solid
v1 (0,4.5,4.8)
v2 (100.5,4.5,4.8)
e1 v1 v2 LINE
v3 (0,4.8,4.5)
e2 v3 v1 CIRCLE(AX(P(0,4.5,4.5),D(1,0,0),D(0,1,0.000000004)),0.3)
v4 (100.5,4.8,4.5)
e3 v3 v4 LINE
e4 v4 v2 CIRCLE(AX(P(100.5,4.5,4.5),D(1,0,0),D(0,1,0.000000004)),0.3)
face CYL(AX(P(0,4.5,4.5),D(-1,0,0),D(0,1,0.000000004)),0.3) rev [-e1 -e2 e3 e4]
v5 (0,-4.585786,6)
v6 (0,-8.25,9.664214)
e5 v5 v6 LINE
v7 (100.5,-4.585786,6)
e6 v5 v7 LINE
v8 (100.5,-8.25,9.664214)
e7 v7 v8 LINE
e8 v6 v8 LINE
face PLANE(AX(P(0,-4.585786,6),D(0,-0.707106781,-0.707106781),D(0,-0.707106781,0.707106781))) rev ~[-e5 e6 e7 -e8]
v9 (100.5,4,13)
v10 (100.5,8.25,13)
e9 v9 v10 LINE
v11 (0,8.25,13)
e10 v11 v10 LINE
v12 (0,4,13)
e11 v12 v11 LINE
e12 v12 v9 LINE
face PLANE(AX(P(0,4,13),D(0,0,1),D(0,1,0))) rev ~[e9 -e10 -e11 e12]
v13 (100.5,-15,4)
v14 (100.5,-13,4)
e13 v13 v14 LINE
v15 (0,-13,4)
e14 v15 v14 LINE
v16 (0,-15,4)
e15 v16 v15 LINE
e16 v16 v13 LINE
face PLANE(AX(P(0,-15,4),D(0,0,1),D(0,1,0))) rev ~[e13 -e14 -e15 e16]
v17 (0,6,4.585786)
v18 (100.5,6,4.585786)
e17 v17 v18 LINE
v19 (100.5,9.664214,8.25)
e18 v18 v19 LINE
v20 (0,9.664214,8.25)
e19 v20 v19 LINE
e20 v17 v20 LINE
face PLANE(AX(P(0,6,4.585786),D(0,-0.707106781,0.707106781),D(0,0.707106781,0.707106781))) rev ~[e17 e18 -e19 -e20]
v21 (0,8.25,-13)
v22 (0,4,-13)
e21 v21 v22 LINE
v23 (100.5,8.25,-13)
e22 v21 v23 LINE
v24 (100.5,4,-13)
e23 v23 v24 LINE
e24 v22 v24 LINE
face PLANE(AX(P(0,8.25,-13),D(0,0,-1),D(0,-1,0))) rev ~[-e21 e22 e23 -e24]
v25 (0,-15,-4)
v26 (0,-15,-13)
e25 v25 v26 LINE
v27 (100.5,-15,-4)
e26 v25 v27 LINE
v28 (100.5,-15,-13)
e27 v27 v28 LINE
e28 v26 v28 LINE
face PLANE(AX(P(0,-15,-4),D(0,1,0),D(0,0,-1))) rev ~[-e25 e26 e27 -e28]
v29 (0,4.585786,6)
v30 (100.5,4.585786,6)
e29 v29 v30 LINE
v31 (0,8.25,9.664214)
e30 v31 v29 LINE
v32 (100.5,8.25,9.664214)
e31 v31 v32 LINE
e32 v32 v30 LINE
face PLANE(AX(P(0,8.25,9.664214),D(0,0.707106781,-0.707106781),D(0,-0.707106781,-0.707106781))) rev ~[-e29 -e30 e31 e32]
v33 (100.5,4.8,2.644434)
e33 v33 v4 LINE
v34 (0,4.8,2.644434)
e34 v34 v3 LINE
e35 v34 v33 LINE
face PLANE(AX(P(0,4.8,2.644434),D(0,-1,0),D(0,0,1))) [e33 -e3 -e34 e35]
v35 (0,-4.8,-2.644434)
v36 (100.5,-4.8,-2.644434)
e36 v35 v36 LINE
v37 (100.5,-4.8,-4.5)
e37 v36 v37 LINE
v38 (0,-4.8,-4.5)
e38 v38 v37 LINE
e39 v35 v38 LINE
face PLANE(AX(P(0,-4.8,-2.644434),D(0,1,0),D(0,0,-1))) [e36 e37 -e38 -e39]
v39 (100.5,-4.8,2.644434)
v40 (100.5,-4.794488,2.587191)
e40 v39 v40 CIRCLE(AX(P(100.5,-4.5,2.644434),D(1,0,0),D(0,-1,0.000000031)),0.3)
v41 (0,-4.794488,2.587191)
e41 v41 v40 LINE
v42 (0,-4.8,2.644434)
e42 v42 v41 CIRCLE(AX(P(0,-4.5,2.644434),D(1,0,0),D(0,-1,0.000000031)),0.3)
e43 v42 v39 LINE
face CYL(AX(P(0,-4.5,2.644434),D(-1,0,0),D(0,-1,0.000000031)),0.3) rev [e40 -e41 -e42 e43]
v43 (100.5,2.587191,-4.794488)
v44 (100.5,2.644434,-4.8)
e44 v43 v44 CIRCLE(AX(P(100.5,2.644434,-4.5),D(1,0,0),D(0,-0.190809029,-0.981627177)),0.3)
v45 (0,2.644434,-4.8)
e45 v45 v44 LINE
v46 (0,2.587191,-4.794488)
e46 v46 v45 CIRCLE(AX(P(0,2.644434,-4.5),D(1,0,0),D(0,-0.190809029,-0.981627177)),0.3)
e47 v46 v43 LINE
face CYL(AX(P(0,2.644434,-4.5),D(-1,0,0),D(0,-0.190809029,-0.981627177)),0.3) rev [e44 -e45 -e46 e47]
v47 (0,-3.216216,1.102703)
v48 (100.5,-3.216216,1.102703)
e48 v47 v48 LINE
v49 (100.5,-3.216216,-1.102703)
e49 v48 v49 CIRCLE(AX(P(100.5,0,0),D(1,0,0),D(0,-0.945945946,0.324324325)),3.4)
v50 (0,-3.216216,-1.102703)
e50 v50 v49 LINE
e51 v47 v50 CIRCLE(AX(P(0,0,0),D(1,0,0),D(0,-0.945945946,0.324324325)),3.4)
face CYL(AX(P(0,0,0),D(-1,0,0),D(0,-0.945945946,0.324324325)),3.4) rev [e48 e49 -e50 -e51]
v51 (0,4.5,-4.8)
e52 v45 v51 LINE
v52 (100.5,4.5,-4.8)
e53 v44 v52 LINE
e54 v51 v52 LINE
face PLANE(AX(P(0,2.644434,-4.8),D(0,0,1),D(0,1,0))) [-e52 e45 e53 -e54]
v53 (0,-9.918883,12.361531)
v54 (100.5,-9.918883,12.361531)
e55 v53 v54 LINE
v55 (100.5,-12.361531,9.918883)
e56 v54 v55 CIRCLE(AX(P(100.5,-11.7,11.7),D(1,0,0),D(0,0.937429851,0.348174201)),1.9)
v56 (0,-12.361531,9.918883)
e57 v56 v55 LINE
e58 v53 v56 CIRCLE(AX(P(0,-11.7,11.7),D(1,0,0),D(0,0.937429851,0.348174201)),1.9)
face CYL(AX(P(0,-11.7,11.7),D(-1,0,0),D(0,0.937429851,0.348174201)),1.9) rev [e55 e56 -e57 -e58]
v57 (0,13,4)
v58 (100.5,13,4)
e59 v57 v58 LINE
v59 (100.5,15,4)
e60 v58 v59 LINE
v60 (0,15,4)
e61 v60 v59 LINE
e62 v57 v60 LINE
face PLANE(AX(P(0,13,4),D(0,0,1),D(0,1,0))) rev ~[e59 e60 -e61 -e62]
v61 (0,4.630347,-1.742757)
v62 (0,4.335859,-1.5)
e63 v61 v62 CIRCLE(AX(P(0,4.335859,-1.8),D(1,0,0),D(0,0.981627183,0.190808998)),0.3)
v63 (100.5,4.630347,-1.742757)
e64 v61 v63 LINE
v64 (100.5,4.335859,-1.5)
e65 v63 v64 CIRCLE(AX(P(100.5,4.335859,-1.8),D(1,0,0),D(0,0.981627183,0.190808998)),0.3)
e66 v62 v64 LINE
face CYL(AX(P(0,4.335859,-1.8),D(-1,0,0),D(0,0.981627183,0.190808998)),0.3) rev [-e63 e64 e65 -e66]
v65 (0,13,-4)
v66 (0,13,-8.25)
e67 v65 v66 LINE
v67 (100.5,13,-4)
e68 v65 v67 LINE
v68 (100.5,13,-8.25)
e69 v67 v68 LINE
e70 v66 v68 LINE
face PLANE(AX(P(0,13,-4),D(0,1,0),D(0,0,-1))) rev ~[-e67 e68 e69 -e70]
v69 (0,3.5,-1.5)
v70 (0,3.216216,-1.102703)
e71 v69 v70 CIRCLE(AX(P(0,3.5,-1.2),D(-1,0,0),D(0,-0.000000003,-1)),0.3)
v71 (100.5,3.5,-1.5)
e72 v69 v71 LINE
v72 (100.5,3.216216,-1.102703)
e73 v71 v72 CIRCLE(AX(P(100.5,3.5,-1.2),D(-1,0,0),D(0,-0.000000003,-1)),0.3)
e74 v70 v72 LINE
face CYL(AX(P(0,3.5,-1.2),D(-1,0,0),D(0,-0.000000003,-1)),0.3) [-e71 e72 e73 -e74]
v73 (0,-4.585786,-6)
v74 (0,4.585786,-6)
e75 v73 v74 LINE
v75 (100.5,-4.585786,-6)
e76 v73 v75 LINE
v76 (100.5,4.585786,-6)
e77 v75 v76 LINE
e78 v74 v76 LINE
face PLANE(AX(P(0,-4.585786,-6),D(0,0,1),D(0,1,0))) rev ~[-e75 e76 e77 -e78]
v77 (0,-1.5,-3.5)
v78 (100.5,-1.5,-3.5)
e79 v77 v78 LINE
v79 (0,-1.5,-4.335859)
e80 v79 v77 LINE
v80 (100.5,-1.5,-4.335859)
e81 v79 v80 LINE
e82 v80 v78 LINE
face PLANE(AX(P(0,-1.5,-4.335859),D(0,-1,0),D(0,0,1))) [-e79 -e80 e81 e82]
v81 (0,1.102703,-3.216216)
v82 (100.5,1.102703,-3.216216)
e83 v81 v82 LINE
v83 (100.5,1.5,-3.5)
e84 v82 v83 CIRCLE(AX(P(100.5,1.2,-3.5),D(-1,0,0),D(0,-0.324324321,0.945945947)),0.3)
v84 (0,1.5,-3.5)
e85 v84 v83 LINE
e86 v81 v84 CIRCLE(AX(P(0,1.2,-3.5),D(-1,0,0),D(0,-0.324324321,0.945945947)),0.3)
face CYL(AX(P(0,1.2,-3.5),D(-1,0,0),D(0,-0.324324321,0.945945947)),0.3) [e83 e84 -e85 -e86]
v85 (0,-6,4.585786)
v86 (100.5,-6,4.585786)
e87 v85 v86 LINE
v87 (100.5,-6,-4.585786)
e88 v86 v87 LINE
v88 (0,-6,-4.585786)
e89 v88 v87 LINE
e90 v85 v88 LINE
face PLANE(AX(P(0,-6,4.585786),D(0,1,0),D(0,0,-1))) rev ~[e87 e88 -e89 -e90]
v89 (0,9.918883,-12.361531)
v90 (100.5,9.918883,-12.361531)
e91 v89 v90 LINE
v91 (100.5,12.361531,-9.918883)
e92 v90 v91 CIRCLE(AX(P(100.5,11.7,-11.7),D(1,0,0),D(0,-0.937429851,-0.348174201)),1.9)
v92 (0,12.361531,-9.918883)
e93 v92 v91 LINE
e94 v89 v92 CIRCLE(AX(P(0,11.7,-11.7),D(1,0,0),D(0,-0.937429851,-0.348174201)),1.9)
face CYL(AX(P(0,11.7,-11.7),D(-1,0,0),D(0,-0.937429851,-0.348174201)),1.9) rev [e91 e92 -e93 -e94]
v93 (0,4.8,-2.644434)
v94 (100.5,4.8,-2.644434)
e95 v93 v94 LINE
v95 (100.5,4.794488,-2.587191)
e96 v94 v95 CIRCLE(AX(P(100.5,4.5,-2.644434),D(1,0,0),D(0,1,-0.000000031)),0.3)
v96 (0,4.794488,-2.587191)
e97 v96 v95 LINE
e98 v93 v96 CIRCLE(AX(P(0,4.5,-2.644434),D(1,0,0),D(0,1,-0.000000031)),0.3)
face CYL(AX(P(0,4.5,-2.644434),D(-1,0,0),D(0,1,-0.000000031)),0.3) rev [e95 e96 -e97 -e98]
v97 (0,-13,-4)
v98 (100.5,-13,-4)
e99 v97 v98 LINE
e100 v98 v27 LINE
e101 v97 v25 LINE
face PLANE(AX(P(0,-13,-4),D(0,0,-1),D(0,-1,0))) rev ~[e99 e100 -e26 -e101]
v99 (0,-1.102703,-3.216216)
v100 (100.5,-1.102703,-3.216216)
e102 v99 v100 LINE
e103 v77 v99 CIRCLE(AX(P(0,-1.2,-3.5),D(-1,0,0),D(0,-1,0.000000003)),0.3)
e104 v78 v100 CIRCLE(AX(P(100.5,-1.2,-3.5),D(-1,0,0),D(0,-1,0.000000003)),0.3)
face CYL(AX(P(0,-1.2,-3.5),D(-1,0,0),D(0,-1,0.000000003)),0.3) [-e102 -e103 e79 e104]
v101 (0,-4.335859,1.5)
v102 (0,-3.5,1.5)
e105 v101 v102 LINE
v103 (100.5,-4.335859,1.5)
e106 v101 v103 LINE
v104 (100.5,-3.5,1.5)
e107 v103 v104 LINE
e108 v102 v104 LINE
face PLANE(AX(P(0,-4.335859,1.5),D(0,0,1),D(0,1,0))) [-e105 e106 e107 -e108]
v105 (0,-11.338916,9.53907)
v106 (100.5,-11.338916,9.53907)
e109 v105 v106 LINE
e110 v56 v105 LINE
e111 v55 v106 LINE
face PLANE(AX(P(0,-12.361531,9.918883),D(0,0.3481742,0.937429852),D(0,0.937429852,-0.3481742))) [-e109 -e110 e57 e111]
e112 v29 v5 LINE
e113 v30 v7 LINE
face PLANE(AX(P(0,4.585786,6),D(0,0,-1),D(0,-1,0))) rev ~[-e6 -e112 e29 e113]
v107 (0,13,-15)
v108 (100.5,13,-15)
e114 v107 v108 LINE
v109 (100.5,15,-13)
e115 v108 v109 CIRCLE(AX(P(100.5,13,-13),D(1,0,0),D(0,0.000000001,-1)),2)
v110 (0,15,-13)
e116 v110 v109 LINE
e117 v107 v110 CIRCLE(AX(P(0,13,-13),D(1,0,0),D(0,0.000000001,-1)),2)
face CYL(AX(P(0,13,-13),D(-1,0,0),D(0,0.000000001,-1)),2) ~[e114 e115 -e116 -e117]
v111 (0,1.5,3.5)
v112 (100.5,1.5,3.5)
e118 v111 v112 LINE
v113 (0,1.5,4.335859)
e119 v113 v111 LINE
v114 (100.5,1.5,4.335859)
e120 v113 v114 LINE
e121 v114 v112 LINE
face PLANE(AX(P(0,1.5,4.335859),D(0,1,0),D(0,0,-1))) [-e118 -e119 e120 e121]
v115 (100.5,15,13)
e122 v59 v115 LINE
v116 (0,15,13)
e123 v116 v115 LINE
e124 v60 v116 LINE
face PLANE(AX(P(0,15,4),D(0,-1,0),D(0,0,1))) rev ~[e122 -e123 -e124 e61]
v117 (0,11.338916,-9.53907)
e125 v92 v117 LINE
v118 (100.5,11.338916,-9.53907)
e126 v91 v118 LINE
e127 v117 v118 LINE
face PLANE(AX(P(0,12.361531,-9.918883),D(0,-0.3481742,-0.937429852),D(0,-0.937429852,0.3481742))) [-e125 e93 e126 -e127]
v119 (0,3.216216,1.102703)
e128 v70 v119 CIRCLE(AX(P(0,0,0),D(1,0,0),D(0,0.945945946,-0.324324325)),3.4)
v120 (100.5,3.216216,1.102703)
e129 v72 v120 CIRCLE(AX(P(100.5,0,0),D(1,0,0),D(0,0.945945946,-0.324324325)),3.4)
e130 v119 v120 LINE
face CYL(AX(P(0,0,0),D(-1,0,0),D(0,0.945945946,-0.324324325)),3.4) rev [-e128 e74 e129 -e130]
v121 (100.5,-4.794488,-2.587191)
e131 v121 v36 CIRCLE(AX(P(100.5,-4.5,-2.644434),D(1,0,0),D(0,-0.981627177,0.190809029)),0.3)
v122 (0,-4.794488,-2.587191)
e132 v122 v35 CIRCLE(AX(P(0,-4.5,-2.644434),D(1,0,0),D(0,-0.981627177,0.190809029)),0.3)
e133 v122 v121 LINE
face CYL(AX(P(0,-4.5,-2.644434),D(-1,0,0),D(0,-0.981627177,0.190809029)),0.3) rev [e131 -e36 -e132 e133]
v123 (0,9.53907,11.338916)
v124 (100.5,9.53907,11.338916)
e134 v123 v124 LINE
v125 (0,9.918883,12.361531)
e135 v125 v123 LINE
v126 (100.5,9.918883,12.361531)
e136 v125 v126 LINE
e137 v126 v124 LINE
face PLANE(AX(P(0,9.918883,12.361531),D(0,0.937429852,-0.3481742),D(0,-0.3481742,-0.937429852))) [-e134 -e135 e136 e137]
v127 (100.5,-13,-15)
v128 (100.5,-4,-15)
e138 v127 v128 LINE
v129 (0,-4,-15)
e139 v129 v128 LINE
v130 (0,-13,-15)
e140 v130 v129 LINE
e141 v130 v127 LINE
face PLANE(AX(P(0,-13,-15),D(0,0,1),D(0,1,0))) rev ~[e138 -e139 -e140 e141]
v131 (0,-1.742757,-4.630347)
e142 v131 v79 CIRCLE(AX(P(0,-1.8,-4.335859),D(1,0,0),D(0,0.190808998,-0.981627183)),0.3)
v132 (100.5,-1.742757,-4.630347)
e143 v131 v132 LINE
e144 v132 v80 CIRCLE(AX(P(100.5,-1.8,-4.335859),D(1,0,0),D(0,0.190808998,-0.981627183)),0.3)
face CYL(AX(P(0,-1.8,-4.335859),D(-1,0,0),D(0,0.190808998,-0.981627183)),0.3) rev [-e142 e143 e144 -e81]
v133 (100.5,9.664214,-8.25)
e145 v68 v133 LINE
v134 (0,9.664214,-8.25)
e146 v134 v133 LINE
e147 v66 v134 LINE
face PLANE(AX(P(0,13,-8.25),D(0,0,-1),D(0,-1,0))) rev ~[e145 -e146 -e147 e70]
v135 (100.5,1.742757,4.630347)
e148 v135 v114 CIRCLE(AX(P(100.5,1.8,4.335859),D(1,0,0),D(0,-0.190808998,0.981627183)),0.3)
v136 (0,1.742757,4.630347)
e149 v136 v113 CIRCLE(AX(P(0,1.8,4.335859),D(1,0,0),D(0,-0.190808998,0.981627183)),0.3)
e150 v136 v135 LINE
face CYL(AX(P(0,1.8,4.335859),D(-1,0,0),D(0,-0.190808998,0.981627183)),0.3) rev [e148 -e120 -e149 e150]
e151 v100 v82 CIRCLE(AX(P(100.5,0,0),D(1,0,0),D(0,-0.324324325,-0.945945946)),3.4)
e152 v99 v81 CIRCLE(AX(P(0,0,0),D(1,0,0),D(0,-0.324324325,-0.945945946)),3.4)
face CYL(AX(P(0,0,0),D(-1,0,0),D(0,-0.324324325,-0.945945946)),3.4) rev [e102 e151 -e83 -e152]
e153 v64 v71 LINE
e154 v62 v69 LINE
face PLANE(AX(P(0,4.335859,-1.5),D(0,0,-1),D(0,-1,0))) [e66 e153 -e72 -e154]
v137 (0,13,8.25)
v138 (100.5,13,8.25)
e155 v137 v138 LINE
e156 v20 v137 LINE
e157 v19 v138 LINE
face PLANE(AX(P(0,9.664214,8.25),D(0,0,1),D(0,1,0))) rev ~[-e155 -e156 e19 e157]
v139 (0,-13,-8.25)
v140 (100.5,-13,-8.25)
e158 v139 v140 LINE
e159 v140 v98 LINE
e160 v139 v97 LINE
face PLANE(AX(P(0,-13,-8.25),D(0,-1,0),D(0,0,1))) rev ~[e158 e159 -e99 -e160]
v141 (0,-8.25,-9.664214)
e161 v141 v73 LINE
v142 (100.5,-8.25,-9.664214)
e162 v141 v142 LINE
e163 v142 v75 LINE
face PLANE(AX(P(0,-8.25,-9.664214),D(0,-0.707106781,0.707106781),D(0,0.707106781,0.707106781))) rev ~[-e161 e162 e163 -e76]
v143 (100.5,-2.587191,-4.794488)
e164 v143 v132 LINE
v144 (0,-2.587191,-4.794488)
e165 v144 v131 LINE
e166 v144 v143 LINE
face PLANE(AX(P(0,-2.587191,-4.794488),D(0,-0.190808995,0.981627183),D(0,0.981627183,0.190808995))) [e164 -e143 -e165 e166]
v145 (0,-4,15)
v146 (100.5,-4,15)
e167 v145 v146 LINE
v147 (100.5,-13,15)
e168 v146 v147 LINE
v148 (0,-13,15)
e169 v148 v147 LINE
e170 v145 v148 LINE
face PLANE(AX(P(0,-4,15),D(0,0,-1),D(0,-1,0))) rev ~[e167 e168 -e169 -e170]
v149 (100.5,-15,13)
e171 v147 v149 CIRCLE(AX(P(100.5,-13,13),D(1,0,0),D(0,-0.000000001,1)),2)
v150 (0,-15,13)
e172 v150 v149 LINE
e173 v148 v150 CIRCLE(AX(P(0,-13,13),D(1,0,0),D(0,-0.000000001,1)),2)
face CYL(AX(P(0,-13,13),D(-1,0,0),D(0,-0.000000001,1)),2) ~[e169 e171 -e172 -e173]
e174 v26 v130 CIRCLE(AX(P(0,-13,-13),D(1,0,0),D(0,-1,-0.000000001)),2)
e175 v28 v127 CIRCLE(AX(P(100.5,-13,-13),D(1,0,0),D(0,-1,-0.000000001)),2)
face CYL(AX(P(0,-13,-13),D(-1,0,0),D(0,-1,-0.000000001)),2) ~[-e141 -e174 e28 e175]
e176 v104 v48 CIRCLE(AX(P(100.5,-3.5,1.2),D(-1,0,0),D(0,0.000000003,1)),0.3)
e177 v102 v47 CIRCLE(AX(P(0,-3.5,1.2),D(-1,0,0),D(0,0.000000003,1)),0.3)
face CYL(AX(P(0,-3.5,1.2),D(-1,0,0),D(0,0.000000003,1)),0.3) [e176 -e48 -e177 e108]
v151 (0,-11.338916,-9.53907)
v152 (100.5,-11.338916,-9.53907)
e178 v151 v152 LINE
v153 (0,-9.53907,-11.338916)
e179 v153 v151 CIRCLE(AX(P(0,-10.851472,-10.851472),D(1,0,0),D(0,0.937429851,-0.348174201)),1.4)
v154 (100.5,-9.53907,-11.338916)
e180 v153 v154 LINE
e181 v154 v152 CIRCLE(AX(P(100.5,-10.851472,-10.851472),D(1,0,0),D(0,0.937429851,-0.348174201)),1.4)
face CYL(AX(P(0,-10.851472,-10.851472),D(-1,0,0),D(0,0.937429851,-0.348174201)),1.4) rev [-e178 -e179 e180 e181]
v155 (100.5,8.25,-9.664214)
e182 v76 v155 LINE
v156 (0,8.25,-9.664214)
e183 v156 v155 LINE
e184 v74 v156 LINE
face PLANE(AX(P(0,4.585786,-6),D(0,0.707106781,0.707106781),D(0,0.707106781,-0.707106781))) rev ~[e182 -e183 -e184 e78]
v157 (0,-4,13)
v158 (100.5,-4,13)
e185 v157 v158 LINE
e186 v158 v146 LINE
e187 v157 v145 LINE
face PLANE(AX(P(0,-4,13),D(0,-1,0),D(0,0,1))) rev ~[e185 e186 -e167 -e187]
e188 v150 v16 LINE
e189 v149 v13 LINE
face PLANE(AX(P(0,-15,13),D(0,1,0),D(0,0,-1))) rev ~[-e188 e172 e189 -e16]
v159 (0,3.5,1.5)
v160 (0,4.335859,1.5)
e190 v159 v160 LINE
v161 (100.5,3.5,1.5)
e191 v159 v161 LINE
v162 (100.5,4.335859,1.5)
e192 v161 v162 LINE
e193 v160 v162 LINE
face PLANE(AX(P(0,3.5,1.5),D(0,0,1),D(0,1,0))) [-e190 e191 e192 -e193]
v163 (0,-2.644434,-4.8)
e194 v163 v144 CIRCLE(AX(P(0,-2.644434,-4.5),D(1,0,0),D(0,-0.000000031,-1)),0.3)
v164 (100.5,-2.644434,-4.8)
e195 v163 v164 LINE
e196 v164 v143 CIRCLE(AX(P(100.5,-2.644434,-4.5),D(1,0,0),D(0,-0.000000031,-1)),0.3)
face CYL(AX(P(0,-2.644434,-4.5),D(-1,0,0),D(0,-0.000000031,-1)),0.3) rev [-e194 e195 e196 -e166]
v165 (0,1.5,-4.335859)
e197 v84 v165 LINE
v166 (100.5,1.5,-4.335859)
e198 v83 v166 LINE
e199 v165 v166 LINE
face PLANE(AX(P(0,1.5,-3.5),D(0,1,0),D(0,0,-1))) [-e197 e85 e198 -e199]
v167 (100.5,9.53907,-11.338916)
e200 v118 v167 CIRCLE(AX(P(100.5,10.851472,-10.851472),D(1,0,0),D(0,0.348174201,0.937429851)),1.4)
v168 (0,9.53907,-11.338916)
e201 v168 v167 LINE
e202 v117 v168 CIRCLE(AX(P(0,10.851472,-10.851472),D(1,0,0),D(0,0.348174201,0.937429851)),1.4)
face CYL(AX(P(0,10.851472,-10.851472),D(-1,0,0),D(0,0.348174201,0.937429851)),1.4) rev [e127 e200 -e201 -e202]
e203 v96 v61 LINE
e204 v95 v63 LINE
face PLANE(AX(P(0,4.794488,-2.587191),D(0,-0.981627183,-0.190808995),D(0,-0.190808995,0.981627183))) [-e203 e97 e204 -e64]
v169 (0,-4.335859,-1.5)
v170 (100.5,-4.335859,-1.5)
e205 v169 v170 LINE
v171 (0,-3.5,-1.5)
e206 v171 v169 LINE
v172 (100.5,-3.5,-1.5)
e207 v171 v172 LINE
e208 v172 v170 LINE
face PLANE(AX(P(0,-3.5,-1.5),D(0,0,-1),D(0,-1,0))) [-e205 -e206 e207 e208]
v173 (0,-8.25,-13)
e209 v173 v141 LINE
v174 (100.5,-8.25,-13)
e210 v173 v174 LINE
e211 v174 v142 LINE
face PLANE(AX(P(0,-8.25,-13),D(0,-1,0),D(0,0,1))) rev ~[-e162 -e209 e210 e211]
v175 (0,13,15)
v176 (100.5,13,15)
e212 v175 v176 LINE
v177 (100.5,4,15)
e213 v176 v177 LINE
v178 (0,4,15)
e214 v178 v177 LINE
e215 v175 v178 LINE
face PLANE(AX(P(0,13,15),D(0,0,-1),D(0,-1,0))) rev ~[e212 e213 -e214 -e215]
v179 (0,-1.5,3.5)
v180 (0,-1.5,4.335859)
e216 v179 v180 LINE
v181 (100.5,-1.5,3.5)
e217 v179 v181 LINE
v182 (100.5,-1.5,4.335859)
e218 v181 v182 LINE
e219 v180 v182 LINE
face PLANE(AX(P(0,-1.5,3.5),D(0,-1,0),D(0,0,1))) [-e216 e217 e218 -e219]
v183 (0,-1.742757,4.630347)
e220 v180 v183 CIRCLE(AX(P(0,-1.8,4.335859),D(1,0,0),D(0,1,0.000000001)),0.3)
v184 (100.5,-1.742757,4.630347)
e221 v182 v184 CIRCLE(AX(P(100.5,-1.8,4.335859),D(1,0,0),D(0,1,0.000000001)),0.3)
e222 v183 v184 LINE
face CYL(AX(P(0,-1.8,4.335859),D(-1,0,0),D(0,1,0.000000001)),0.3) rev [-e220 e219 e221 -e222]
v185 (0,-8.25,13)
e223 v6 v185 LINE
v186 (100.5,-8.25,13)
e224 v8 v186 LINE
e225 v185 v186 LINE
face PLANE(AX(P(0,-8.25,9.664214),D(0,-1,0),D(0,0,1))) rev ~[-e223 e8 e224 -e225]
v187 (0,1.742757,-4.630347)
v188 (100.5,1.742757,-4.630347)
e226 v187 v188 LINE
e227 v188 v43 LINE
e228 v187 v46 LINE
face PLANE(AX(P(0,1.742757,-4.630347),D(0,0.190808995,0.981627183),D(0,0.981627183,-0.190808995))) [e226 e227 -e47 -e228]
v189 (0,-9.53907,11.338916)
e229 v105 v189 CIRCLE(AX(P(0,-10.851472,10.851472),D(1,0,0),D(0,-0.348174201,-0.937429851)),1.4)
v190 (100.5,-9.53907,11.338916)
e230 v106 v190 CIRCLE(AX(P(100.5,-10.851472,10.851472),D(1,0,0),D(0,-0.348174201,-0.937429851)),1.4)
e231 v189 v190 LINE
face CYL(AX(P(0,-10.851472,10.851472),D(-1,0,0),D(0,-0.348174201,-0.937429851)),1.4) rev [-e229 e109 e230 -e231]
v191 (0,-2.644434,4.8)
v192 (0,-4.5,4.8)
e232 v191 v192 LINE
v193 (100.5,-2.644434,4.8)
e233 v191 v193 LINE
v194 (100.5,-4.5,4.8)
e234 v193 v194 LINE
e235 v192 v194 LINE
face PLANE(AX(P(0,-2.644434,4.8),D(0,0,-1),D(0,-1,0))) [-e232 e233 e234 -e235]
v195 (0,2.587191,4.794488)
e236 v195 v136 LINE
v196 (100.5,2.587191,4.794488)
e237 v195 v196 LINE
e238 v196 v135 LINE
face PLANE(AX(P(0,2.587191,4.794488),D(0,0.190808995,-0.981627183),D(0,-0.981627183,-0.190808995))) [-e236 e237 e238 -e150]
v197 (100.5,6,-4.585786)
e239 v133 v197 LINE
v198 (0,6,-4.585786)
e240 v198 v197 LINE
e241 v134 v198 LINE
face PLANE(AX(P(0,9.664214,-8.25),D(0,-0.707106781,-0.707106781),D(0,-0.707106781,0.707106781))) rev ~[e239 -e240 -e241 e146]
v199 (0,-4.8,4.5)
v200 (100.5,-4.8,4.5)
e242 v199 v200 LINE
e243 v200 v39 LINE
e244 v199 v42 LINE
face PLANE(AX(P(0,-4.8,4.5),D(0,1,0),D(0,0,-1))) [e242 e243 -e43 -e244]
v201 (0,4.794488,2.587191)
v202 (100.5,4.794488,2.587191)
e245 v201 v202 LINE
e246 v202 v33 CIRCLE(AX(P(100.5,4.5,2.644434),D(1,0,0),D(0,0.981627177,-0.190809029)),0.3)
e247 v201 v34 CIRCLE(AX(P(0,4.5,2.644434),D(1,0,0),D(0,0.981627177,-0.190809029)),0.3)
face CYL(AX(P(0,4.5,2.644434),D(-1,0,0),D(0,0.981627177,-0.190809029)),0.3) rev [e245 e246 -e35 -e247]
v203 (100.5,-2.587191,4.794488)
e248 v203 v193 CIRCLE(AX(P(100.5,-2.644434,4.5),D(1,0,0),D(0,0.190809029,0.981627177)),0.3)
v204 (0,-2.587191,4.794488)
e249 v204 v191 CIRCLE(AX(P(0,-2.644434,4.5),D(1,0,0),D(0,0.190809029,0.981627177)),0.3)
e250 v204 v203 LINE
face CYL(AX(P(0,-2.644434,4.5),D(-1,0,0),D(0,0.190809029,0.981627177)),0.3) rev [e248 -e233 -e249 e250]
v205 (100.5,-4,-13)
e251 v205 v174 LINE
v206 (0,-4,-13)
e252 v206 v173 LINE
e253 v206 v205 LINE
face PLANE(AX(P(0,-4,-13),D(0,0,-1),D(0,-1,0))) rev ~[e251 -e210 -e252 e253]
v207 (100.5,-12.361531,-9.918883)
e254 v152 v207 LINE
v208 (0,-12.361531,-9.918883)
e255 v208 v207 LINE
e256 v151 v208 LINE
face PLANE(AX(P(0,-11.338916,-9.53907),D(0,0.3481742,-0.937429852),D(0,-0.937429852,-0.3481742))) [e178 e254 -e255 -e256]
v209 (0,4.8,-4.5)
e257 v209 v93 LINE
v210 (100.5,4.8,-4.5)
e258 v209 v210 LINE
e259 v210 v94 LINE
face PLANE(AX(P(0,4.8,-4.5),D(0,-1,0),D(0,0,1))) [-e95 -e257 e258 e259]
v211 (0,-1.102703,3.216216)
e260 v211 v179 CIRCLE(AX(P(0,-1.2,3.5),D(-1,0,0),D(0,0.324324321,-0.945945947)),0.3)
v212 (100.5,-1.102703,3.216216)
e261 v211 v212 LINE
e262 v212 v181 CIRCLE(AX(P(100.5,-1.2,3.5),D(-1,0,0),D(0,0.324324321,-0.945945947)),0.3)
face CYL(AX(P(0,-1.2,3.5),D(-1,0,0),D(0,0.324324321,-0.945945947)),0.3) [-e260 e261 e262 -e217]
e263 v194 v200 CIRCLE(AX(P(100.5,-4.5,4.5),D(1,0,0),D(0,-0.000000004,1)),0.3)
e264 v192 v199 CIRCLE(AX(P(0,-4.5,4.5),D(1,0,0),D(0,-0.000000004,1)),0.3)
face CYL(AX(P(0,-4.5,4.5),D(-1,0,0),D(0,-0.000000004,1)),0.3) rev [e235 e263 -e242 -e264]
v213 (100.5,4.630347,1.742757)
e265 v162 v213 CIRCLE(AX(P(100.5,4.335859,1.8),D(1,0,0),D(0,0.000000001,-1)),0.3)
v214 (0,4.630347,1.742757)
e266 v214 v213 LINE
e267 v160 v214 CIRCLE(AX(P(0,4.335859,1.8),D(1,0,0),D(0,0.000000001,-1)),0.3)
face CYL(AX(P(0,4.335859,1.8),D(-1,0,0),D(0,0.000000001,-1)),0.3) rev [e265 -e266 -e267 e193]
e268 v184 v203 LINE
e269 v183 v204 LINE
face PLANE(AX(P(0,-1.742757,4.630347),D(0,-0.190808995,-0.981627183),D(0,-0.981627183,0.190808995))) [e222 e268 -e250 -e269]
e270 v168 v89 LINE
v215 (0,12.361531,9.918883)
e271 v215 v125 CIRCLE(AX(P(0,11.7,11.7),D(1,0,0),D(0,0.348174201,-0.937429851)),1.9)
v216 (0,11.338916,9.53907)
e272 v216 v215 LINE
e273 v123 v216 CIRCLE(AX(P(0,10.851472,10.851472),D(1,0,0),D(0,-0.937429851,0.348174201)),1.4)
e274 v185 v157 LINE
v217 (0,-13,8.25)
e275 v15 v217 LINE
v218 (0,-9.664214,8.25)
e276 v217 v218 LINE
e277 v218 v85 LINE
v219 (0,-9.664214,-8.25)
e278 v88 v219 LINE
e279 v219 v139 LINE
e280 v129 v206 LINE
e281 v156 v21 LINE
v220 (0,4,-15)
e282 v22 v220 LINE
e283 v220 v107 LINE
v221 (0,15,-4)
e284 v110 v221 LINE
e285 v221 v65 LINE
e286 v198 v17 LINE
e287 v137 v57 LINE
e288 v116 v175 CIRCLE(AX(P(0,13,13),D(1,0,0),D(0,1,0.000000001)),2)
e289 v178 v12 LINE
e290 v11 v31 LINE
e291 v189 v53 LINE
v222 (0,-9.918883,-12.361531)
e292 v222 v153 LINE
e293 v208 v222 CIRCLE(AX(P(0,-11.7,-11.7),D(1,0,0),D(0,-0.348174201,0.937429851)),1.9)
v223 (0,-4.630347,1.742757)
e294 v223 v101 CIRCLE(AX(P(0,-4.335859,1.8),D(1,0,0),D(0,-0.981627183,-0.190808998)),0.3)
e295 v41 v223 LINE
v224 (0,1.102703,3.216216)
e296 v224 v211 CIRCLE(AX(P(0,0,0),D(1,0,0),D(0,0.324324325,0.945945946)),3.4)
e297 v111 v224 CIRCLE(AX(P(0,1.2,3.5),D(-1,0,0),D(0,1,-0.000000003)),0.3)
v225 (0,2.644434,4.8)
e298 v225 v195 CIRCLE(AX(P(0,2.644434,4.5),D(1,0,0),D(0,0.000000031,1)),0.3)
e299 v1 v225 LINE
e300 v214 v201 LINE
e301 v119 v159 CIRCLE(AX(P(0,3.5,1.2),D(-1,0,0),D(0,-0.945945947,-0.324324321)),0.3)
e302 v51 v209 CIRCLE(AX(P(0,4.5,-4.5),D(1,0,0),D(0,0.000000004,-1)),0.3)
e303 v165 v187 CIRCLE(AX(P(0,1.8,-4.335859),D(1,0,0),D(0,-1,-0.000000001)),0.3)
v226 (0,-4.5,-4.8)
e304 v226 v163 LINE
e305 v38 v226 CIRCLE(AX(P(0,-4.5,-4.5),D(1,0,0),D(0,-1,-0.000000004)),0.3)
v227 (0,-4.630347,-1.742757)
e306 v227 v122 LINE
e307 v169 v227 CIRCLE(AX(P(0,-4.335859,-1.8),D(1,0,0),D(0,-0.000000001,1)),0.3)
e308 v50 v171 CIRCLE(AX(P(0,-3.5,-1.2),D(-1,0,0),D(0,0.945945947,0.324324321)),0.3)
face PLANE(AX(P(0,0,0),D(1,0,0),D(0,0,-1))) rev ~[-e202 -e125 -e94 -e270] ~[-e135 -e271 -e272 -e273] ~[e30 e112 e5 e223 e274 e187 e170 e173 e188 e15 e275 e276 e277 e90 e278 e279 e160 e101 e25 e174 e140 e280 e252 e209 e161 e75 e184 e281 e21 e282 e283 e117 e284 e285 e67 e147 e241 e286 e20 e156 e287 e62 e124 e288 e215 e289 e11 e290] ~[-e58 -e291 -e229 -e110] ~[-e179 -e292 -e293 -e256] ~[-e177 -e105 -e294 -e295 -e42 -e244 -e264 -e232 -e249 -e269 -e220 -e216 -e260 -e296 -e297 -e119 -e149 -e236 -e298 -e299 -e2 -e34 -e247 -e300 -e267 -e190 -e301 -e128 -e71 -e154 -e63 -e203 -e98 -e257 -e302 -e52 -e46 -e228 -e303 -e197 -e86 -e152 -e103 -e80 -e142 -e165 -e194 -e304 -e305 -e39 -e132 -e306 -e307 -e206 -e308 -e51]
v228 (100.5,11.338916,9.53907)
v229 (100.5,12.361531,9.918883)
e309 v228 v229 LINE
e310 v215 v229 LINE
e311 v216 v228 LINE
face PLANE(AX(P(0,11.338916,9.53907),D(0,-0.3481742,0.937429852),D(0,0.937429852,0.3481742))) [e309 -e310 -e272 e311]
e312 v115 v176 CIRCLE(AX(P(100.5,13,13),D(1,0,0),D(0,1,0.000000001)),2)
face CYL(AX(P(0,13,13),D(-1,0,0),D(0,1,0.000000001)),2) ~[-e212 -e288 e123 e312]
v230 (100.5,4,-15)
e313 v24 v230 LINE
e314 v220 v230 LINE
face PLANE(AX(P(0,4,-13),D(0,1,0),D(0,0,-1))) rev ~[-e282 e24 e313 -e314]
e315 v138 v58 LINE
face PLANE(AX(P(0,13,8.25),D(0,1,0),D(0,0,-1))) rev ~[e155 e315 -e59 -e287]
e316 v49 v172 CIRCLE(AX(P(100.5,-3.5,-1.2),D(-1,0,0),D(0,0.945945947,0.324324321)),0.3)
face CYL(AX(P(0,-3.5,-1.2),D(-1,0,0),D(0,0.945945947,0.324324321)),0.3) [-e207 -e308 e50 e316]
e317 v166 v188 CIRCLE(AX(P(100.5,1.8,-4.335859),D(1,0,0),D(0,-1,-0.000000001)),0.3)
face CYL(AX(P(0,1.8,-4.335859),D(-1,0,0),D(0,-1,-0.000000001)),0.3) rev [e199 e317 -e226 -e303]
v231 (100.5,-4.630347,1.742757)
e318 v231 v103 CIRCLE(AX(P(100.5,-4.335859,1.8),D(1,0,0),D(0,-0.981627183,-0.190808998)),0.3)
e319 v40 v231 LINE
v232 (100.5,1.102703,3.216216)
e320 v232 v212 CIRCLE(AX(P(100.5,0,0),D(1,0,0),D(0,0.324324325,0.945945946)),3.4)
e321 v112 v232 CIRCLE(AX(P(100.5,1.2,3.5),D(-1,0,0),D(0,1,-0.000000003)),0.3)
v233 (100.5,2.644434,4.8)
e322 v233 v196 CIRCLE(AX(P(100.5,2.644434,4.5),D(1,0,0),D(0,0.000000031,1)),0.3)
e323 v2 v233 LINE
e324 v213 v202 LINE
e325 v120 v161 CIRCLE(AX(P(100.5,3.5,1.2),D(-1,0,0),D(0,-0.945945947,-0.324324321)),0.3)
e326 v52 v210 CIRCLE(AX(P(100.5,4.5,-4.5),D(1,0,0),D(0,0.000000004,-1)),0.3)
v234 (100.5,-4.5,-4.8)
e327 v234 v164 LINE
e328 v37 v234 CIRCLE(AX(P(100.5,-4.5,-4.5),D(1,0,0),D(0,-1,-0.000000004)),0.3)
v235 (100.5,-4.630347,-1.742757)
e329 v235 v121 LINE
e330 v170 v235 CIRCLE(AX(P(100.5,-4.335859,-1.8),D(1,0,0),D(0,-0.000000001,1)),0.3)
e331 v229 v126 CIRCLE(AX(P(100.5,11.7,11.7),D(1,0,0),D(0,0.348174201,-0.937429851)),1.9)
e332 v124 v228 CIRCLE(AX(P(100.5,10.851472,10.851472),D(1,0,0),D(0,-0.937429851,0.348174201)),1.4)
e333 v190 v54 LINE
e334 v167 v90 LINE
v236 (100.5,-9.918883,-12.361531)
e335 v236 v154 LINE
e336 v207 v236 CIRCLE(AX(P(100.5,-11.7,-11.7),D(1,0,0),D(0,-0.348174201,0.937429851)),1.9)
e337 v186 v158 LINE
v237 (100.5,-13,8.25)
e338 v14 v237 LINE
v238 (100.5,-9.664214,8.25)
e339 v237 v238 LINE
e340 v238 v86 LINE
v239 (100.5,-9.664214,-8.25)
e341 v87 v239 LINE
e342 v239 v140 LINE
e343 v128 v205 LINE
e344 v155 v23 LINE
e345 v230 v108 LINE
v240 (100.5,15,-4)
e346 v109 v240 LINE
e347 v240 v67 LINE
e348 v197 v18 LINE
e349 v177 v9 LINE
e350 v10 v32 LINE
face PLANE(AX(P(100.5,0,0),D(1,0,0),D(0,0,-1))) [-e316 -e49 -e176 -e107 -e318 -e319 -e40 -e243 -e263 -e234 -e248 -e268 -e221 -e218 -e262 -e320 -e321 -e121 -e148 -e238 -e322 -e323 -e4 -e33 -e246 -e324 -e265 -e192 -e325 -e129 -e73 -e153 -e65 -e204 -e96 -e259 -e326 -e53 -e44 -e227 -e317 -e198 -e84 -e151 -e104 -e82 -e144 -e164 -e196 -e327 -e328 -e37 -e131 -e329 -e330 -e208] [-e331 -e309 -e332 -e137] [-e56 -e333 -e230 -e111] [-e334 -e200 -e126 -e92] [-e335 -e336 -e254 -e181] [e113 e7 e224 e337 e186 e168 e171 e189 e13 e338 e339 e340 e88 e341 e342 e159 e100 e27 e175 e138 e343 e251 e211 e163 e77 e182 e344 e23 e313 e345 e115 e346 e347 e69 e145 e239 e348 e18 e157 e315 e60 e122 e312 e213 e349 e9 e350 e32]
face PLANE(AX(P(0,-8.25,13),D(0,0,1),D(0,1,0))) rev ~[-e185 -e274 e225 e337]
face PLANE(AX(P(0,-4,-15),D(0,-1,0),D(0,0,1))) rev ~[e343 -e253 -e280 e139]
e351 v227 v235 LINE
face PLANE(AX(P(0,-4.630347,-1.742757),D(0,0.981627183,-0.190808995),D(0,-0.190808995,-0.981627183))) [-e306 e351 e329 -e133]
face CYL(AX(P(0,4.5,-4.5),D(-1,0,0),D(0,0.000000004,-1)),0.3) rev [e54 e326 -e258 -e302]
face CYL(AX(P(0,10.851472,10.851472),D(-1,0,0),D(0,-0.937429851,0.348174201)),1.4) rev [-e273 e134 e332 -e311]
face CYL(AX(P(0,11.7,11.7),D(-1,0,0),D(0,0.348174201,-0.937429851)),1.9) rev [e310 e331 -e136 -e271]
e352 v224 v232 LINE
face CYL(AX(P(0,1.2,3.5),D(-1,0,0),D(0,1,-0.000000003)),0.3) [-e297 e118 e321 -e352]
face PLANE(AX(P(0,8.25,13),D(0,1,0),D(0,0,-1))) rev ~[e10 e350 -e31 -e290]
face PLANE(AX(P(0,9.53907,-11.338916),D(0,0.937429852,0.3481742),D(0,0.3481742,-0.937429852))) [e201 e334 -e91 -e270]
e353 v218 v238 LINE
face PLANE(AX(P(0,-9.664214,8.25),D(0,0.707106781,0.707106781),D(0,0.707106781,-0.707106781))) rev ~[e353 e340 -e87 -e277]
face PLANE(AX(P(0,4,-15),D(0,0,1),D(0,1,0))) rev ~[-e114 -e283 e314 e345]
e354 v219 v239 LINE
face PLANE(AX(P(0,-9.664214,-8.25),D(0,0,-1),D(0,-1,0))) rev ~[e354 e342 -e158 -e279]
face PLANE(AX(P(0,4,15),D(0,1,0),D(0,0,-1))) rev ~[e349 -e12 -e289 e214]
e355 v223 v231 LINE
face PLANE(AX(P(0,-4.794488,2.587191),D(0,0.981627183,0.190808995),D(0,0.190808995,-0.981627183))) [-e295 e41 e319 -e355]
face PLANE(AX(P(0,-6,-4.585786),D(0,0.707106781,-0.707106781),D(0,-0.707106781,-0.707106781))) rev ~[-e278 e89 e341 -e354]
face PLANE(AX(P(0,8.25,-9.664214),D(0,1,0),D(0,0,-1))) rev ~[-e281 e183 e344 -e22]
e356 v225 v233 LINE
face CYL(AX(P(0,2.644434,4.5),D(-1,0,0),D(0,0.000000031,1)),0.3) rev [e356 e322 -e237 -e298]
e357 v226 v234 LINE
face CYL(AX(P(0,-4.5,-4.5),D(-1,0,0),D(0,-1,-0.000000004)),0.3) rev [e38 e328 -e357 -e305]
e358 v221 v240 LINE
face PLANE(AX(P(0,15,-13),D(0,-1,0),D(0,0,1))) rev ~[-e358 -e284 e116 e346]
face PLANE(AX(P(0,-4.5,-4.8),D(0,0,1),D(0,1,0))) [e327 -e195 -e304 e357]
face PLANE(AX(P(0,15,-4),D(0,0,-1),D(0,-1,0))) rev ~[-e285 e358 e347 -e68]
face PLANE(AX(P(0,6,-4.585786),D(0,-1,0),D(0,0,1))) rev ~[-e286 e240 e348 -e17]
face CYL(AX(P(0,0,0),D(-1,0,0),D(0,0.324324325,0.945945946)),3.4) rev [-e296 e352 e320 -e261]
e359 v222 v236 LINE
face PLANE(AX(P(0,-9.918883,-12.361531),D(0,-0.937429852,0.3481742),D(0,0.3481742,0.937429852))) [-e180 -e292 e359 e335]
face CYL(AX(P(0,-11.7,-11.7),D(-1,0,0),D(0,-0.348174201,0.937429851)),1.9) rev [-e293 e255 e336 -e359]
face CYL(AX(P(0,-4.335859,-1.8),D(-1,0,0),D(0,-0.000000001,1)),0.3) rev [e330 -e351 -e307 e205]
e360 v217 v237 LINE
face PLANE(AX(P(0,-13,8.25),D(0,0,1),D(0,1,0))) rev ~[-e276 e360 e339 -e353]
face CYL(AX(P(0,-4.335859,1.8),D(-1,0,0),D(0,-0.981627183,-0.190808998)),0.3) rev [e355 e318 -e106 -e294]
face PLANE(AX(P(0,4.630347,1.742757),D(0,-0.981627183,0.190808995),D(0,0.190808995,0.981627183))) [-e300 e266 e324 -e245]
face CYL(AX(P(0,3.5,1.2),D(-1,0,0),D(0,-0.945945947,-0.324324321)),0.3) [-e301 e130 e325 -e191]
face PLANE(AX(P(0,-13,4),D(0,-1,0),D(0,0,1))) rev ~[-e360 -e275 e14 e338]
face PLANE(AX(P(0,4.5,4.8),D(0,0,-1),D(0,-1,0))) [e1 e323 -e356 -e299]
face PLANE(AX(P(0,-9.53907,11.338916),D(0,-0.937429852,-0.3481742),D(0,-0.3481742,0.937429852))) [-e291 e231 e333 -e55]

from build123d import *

# Parameters (mm, degrees)
BOSS_EXTRUDE1_DEPTH = 100.5


with BuildPart() as part:
    # Sketch1 → Boss-Extrude1 (new body)
    with BuildSketch(Plane(origin=(0, 0, 0), x_dir=(0, 0, -1), z_dir=(1, 0, 0))):
        with BuildLine():
            Line((-15, 13), (-15, 4))
            Line((-15, 4), (-13, 4))
            Line((-13, 4), (-13, 8.25))
            Line((-13, 8.25), (-9.664213562, 8.25))
            Line((-9.664213562, 8.25), (-6, 4.585786438))
            Line((-6, 4.585786438), (-6, -4.585786438))
            Line((-6, -4.585786438), (-9.664213562, -8.25))
            Line((-9.664213562, -8.25), (-13, -8.25))
            Line((-13, -8.25), (-13, -4))
            Line((-13, -4), (-15, -4))
            Line((-15, -4), (-15, -13))
            ThreePointArc((-15, -13), (-14.414213562, -14.414213562), (-13, -15))
            Line((-13, -15), (-4, -15))
            Line((-4, -15), (-4, -13))
            Line((-4, -13), (-8.25, -13))
            Line((-8.25, -13), (-8.25, -9.664213562))
            Line((-8.25, -9.664213562), (-4.585786438, -6))
            Line((-4.585786438, -6), (4.585786438, -6))
            Line((4.585786438, -6), (8.25, -9.664213562))
            Line((8.25, -9.664213562), (8.25, -13))
            Line((8.25, -13), (4, -13))
            Line((4, -13), (4, -15))
            Line((4, -15), (13, -15))
            ThreePointArc((13, -15), (14.414213562, -14.414213562), (15, -13))
            Line((15, -13), (15, -4))
            Line((15, -4), (13, -4))
            Line((13, -4), (13, -8.25))
            Line((13, -8.25), (9.664213562, -8.25))
            Line((9.664213562, -8.25), (6, -4.585786438))
            Line((6, -4.585786438), (6, 4.585786438))
            Line((6, 4.585786438), (9.664213562, 8.25))
            Line((9.664213562, 8.25), (13, 8.25))
            Line((13, 8.25), (13, 4))
            Line((13, 4), (15, 4))
            Line((15, 4), (15, 13))
            ThreePointArc((15, 13), (14.414213562, 14.414213562), (13, 15))
            Line((13, 15), (4, 15))
            Line((4, 15), (4, 13))
            Line((4, 13), (8.25, 13))
            Line((8.25, 13), (8.25, 9.664213562))
            Line((8.25, 9.664213562), (4.585786438, 6))
            Line((4.585786438, 6), (-4.585786438, 6))
            Line((-4.585786438, 6), (-8.25, 9.664213562))
            Line((-8.25, 9.664213562), (-8.25, 13))
            Line((-8.25, 13), (-4, 13))
            Line((-4, 13), (-4, 15))
            Line((-4, 15), (-13, 15))
            ThreePointArc((-13, 15), (-14.414213562, 14.414213562), (-15, 13))
        make_face()
        with BuildLine():
            Line((-9.539070071, 11.338915743), (-9.918883282, 12.361530981))
            ThreePointArc((-9.918883282, 12.361530981), (-13.043502884, 13.043502884), (-12.361530981, 9.918883282))
            Line((-12.361530981, 9.918883282), (-11.338915743, 9.539070071))
            ThreePointArc((-11.338915743, 9.539070071), (-9.861522369, 9.861522369), (-9.539070071, 11.338915743))
        make_face(mode=Mode.SUBTRACT)
        with BuildLine():
            Line((9.918883282, 12.361530981), (9.539070071, 11.338915743))
            ThreePointArc((9.539070071, 11.338915743), (9.861522369, 9.861522369), (11.338915743, 9.539070071))
            Line((11.338915743, 9.539070071), (12.361530981, 9.918883282))
            ThreePointArc((12.361530981, 9.918883282), (13.043502884, 13.043502884), (9.918883282, 12.361530981))
        make_face(mode=Mode.SUBTRACT)
        with BuildLine():
            Line((12.361530981, -9.918883282), (11.338915743, -9.539070071))
            ThreePointArc((11.338915743, -9.539070071), (9.861522369, -9.861522369), (9.539070071, -11.338915743))
            Line((9.539070071, -11.338915743), (9.918883282, -12.361530981))
            ThreePointArc((9.918883282, -12.361530981), (13.043502884, -13.043502884), (12.361530981, -9.918883282))
        make_face(mode=Mode.SUBTRACT)
        with BuildLine():
            Line((-11.338915743, -9.539070071), (-12.361530981, -9.918883282))
            ThreePointArc((-12.361530981, -9.918883282), (-13.043502884, -13.043502884), (-9.918883282, -12.361530981))
            Line((-9.918883282, -12.361530981), (-9.539070071, -11.338915743))
            ThreePointArc((-9.539070071, -11.338915743), (-9.861522369, -9.861522369), (-11.338915743, -9.539070071))
        make_face(mode=Mode.SUBTRACT)
        with BuildLine():
            Line((-4.8, -2.644433572), (-4.8, -4.5))
            ThreePointArc((-4.8, -4.5), (-4.712132034, -4.712132034), (-4.5, -4.8))
            Line((-4.5, -4.8), (-2.644433572, -4.8))
            ThreePointArc((-2.644433572, -4.8), (-2.615679847, -4.79861886), (-2.587190874, -4.794488155))
            Line((-2.587190874, -4.794488155), (-1.742757301, -4.630346896))
            ThreePointArc((-1.742757301, -4.630346896), (-1.568512625, -4.526682207), (-1.5, -4.335858741))
            Line((-1.5, -4.335858741), (-1.5, -3.5))
            ThreePointArc((-1.5, -3.5), (-1.374371458, -3.255879959), (-1.102702703, -3.216216216))
            ThreePointArc((-1.102702703, -3.216216216), (0, -3.4), (1.102702703, -3.216216216))
            ThreePointArc((1.102702703, -3.216216216), (1.374371458, -3.255879959), (1.5, -3.5))
            Line((1.5, -3.5), (1.5, -4.335858741))
            ThreePointArc((1.5, -4.335858741), (1.568512625, -4.526682207), (1.742757301, -4.630346896))
            Line((1.742757301, -4.630346896), (2.587190874, -4.794488155))
            ThreePointArc((2.587190874, -4.794488155), (2.615679847, -4.79861886), (2.644433572, -4.8))
            Line((2.644433572, -4.8), (4.5, -4.8))
            ThreePointArc((4.5, -4.8), (4.712132034, -4.712132034), (4.8, -4.5))
            Line((4.8, -4.5), (4.8, -2.644433572))
            ThreePointArc((4.8, -2.644433572), (4.79861886, -2.615679847), (4.794488155, -2.587190874))
            Line((4.794488155, -2.587190874), (4.630346896, -1.742757301))
            ThreePointArc((4.630346896, -1.742757301), (4.526682207, -1.568512625), (4.335858741, -1.5))
            Line((4.335858741, -1.5), (3.5, -1.5))
            ThreePointArc((3.5, -1.5), (3.255879959, -1.374371458), (3.216216216, -1.102702703))
            ThreePointArc((3.216216216, -1.102702703), (3.4, 0), (3.216216216, 1.102702703))
            ThreePointArc((3.216216216, 1.102702703), (3.255879959, 1.374371458), (3.5, 1.5))
            Line((3.5, 1.5), (4.335858741, 1.5))
            ThreePointArc((4.335858741, 1.5), (4.526682207, 1.568512625), (4.630346896, 1.742757301))
            Line((4.630346896, 1.742757301), (4.794488155, 2.587190874))
            ThreePointArc((4.794488155, 2.587190874), (4.79861886, 2.615679847), (4.8, 2.644433572))
            Line((4.8, 2.644433572), (4.8, 4.5))
            ThreePointArc((4.8, 4.5), (4.712132034, 4.712132034), (4.5, 4.8))
            Line((4.5, 4.8), (2.644433572, 4.8))
            ThreePointArc((2.644433572, 4.8), (2.615679847, 4.79861886), (2.587190874, 4.794488155))
            Line((2.587190874, 4.794488155), (1.742757301, 4.630346896))
            ThreePointArc((1.742757301, 4.630346896), (1.568512625, 4.526682207), (1.5, 4.335858741))
            Line((1.5, 4.335858741), (1.5, 3.5))
            ThreePointArc((1.5, 3.5), (1.374371458, 3.255879959), (1.102702703, 3.216216216))
            ThreePointArc((1.102702703, 3.216216216), (0, 3.4), (-1.102702703, 3.216216216))
            ThreePointArc((-1.102702703, 3.216216216), (-1.374371458, 3.255879959), (-1.5, 3.5))
            Line((-1.5, 3.5), (-1.5, 4.335858741))
            ThreePointArc((-1.5, 4.335858741), (-1.568512625, 4.526682207), (-1.742757301, 4.630346896))
            Line((-1.742757301, 4.630346896), (-2.587190874, 4.794488155))
            ThreePointArc((-2.587190874, 4.794488155), (-2.615679847, 4.79861886), (-2.644433572, 4.8))
            Line((-2.644433572, 4.8), (-4.5, 4.8))
            ThreePointArc((-4.5, 4.8), (-4.712132034, 4.712132034), (-4.8, 4.5))
            Line((-4.8, 4.5), (-4.8, 2.644433572))
            ThreePointArc((-4.8, 2.644433572), (-4.79861886, 2.615679847), (-4.794488155, 2.587190874))
            Line((-4.794488155, 2.587190874), (-4.630346896, 1.742757301))
            ThreePointArc((-4.630346896, 1.742757301), (-4.526682207, 1.568512625), (-4.335858741, 1.5))
            Line((-4.335858741, 1.5), (-3.5, 1.5))
            ThreePointArc((-3.5, 1.5), (-3.255879959, 1.374371458), (-3.216216216, 1.102702703))
            ThreePointArc((-3.216216216, 1.102702703), (-3.4, 0), (-3.216216216, -1.102702703))
            ThreePointArc((-3.216216216, -1.102702703), (-3.255879959, -1.374371458), (-3.5, -1.5))
            Line((-3.5, -1.5), (-4.335858741, -1.5))
            ThreePointArc((-4.335858741, -1.5), (-4.526682207, -1.568512625), (-4.630346896, -1.742757301))
            Line((-4.630346896, -1.742757301), (-4.794488155, -2.587190874))
            ThreePointArc((-4.794488155, -2.587190874), (-4.79861886, -2.615679847), (-4.8, -2.644433572))
        make_face(mode=Mode.SUBTRACT)
    extrude(amount=BOSS_EXTRUDE1_DEPTH)


solid = part.part
